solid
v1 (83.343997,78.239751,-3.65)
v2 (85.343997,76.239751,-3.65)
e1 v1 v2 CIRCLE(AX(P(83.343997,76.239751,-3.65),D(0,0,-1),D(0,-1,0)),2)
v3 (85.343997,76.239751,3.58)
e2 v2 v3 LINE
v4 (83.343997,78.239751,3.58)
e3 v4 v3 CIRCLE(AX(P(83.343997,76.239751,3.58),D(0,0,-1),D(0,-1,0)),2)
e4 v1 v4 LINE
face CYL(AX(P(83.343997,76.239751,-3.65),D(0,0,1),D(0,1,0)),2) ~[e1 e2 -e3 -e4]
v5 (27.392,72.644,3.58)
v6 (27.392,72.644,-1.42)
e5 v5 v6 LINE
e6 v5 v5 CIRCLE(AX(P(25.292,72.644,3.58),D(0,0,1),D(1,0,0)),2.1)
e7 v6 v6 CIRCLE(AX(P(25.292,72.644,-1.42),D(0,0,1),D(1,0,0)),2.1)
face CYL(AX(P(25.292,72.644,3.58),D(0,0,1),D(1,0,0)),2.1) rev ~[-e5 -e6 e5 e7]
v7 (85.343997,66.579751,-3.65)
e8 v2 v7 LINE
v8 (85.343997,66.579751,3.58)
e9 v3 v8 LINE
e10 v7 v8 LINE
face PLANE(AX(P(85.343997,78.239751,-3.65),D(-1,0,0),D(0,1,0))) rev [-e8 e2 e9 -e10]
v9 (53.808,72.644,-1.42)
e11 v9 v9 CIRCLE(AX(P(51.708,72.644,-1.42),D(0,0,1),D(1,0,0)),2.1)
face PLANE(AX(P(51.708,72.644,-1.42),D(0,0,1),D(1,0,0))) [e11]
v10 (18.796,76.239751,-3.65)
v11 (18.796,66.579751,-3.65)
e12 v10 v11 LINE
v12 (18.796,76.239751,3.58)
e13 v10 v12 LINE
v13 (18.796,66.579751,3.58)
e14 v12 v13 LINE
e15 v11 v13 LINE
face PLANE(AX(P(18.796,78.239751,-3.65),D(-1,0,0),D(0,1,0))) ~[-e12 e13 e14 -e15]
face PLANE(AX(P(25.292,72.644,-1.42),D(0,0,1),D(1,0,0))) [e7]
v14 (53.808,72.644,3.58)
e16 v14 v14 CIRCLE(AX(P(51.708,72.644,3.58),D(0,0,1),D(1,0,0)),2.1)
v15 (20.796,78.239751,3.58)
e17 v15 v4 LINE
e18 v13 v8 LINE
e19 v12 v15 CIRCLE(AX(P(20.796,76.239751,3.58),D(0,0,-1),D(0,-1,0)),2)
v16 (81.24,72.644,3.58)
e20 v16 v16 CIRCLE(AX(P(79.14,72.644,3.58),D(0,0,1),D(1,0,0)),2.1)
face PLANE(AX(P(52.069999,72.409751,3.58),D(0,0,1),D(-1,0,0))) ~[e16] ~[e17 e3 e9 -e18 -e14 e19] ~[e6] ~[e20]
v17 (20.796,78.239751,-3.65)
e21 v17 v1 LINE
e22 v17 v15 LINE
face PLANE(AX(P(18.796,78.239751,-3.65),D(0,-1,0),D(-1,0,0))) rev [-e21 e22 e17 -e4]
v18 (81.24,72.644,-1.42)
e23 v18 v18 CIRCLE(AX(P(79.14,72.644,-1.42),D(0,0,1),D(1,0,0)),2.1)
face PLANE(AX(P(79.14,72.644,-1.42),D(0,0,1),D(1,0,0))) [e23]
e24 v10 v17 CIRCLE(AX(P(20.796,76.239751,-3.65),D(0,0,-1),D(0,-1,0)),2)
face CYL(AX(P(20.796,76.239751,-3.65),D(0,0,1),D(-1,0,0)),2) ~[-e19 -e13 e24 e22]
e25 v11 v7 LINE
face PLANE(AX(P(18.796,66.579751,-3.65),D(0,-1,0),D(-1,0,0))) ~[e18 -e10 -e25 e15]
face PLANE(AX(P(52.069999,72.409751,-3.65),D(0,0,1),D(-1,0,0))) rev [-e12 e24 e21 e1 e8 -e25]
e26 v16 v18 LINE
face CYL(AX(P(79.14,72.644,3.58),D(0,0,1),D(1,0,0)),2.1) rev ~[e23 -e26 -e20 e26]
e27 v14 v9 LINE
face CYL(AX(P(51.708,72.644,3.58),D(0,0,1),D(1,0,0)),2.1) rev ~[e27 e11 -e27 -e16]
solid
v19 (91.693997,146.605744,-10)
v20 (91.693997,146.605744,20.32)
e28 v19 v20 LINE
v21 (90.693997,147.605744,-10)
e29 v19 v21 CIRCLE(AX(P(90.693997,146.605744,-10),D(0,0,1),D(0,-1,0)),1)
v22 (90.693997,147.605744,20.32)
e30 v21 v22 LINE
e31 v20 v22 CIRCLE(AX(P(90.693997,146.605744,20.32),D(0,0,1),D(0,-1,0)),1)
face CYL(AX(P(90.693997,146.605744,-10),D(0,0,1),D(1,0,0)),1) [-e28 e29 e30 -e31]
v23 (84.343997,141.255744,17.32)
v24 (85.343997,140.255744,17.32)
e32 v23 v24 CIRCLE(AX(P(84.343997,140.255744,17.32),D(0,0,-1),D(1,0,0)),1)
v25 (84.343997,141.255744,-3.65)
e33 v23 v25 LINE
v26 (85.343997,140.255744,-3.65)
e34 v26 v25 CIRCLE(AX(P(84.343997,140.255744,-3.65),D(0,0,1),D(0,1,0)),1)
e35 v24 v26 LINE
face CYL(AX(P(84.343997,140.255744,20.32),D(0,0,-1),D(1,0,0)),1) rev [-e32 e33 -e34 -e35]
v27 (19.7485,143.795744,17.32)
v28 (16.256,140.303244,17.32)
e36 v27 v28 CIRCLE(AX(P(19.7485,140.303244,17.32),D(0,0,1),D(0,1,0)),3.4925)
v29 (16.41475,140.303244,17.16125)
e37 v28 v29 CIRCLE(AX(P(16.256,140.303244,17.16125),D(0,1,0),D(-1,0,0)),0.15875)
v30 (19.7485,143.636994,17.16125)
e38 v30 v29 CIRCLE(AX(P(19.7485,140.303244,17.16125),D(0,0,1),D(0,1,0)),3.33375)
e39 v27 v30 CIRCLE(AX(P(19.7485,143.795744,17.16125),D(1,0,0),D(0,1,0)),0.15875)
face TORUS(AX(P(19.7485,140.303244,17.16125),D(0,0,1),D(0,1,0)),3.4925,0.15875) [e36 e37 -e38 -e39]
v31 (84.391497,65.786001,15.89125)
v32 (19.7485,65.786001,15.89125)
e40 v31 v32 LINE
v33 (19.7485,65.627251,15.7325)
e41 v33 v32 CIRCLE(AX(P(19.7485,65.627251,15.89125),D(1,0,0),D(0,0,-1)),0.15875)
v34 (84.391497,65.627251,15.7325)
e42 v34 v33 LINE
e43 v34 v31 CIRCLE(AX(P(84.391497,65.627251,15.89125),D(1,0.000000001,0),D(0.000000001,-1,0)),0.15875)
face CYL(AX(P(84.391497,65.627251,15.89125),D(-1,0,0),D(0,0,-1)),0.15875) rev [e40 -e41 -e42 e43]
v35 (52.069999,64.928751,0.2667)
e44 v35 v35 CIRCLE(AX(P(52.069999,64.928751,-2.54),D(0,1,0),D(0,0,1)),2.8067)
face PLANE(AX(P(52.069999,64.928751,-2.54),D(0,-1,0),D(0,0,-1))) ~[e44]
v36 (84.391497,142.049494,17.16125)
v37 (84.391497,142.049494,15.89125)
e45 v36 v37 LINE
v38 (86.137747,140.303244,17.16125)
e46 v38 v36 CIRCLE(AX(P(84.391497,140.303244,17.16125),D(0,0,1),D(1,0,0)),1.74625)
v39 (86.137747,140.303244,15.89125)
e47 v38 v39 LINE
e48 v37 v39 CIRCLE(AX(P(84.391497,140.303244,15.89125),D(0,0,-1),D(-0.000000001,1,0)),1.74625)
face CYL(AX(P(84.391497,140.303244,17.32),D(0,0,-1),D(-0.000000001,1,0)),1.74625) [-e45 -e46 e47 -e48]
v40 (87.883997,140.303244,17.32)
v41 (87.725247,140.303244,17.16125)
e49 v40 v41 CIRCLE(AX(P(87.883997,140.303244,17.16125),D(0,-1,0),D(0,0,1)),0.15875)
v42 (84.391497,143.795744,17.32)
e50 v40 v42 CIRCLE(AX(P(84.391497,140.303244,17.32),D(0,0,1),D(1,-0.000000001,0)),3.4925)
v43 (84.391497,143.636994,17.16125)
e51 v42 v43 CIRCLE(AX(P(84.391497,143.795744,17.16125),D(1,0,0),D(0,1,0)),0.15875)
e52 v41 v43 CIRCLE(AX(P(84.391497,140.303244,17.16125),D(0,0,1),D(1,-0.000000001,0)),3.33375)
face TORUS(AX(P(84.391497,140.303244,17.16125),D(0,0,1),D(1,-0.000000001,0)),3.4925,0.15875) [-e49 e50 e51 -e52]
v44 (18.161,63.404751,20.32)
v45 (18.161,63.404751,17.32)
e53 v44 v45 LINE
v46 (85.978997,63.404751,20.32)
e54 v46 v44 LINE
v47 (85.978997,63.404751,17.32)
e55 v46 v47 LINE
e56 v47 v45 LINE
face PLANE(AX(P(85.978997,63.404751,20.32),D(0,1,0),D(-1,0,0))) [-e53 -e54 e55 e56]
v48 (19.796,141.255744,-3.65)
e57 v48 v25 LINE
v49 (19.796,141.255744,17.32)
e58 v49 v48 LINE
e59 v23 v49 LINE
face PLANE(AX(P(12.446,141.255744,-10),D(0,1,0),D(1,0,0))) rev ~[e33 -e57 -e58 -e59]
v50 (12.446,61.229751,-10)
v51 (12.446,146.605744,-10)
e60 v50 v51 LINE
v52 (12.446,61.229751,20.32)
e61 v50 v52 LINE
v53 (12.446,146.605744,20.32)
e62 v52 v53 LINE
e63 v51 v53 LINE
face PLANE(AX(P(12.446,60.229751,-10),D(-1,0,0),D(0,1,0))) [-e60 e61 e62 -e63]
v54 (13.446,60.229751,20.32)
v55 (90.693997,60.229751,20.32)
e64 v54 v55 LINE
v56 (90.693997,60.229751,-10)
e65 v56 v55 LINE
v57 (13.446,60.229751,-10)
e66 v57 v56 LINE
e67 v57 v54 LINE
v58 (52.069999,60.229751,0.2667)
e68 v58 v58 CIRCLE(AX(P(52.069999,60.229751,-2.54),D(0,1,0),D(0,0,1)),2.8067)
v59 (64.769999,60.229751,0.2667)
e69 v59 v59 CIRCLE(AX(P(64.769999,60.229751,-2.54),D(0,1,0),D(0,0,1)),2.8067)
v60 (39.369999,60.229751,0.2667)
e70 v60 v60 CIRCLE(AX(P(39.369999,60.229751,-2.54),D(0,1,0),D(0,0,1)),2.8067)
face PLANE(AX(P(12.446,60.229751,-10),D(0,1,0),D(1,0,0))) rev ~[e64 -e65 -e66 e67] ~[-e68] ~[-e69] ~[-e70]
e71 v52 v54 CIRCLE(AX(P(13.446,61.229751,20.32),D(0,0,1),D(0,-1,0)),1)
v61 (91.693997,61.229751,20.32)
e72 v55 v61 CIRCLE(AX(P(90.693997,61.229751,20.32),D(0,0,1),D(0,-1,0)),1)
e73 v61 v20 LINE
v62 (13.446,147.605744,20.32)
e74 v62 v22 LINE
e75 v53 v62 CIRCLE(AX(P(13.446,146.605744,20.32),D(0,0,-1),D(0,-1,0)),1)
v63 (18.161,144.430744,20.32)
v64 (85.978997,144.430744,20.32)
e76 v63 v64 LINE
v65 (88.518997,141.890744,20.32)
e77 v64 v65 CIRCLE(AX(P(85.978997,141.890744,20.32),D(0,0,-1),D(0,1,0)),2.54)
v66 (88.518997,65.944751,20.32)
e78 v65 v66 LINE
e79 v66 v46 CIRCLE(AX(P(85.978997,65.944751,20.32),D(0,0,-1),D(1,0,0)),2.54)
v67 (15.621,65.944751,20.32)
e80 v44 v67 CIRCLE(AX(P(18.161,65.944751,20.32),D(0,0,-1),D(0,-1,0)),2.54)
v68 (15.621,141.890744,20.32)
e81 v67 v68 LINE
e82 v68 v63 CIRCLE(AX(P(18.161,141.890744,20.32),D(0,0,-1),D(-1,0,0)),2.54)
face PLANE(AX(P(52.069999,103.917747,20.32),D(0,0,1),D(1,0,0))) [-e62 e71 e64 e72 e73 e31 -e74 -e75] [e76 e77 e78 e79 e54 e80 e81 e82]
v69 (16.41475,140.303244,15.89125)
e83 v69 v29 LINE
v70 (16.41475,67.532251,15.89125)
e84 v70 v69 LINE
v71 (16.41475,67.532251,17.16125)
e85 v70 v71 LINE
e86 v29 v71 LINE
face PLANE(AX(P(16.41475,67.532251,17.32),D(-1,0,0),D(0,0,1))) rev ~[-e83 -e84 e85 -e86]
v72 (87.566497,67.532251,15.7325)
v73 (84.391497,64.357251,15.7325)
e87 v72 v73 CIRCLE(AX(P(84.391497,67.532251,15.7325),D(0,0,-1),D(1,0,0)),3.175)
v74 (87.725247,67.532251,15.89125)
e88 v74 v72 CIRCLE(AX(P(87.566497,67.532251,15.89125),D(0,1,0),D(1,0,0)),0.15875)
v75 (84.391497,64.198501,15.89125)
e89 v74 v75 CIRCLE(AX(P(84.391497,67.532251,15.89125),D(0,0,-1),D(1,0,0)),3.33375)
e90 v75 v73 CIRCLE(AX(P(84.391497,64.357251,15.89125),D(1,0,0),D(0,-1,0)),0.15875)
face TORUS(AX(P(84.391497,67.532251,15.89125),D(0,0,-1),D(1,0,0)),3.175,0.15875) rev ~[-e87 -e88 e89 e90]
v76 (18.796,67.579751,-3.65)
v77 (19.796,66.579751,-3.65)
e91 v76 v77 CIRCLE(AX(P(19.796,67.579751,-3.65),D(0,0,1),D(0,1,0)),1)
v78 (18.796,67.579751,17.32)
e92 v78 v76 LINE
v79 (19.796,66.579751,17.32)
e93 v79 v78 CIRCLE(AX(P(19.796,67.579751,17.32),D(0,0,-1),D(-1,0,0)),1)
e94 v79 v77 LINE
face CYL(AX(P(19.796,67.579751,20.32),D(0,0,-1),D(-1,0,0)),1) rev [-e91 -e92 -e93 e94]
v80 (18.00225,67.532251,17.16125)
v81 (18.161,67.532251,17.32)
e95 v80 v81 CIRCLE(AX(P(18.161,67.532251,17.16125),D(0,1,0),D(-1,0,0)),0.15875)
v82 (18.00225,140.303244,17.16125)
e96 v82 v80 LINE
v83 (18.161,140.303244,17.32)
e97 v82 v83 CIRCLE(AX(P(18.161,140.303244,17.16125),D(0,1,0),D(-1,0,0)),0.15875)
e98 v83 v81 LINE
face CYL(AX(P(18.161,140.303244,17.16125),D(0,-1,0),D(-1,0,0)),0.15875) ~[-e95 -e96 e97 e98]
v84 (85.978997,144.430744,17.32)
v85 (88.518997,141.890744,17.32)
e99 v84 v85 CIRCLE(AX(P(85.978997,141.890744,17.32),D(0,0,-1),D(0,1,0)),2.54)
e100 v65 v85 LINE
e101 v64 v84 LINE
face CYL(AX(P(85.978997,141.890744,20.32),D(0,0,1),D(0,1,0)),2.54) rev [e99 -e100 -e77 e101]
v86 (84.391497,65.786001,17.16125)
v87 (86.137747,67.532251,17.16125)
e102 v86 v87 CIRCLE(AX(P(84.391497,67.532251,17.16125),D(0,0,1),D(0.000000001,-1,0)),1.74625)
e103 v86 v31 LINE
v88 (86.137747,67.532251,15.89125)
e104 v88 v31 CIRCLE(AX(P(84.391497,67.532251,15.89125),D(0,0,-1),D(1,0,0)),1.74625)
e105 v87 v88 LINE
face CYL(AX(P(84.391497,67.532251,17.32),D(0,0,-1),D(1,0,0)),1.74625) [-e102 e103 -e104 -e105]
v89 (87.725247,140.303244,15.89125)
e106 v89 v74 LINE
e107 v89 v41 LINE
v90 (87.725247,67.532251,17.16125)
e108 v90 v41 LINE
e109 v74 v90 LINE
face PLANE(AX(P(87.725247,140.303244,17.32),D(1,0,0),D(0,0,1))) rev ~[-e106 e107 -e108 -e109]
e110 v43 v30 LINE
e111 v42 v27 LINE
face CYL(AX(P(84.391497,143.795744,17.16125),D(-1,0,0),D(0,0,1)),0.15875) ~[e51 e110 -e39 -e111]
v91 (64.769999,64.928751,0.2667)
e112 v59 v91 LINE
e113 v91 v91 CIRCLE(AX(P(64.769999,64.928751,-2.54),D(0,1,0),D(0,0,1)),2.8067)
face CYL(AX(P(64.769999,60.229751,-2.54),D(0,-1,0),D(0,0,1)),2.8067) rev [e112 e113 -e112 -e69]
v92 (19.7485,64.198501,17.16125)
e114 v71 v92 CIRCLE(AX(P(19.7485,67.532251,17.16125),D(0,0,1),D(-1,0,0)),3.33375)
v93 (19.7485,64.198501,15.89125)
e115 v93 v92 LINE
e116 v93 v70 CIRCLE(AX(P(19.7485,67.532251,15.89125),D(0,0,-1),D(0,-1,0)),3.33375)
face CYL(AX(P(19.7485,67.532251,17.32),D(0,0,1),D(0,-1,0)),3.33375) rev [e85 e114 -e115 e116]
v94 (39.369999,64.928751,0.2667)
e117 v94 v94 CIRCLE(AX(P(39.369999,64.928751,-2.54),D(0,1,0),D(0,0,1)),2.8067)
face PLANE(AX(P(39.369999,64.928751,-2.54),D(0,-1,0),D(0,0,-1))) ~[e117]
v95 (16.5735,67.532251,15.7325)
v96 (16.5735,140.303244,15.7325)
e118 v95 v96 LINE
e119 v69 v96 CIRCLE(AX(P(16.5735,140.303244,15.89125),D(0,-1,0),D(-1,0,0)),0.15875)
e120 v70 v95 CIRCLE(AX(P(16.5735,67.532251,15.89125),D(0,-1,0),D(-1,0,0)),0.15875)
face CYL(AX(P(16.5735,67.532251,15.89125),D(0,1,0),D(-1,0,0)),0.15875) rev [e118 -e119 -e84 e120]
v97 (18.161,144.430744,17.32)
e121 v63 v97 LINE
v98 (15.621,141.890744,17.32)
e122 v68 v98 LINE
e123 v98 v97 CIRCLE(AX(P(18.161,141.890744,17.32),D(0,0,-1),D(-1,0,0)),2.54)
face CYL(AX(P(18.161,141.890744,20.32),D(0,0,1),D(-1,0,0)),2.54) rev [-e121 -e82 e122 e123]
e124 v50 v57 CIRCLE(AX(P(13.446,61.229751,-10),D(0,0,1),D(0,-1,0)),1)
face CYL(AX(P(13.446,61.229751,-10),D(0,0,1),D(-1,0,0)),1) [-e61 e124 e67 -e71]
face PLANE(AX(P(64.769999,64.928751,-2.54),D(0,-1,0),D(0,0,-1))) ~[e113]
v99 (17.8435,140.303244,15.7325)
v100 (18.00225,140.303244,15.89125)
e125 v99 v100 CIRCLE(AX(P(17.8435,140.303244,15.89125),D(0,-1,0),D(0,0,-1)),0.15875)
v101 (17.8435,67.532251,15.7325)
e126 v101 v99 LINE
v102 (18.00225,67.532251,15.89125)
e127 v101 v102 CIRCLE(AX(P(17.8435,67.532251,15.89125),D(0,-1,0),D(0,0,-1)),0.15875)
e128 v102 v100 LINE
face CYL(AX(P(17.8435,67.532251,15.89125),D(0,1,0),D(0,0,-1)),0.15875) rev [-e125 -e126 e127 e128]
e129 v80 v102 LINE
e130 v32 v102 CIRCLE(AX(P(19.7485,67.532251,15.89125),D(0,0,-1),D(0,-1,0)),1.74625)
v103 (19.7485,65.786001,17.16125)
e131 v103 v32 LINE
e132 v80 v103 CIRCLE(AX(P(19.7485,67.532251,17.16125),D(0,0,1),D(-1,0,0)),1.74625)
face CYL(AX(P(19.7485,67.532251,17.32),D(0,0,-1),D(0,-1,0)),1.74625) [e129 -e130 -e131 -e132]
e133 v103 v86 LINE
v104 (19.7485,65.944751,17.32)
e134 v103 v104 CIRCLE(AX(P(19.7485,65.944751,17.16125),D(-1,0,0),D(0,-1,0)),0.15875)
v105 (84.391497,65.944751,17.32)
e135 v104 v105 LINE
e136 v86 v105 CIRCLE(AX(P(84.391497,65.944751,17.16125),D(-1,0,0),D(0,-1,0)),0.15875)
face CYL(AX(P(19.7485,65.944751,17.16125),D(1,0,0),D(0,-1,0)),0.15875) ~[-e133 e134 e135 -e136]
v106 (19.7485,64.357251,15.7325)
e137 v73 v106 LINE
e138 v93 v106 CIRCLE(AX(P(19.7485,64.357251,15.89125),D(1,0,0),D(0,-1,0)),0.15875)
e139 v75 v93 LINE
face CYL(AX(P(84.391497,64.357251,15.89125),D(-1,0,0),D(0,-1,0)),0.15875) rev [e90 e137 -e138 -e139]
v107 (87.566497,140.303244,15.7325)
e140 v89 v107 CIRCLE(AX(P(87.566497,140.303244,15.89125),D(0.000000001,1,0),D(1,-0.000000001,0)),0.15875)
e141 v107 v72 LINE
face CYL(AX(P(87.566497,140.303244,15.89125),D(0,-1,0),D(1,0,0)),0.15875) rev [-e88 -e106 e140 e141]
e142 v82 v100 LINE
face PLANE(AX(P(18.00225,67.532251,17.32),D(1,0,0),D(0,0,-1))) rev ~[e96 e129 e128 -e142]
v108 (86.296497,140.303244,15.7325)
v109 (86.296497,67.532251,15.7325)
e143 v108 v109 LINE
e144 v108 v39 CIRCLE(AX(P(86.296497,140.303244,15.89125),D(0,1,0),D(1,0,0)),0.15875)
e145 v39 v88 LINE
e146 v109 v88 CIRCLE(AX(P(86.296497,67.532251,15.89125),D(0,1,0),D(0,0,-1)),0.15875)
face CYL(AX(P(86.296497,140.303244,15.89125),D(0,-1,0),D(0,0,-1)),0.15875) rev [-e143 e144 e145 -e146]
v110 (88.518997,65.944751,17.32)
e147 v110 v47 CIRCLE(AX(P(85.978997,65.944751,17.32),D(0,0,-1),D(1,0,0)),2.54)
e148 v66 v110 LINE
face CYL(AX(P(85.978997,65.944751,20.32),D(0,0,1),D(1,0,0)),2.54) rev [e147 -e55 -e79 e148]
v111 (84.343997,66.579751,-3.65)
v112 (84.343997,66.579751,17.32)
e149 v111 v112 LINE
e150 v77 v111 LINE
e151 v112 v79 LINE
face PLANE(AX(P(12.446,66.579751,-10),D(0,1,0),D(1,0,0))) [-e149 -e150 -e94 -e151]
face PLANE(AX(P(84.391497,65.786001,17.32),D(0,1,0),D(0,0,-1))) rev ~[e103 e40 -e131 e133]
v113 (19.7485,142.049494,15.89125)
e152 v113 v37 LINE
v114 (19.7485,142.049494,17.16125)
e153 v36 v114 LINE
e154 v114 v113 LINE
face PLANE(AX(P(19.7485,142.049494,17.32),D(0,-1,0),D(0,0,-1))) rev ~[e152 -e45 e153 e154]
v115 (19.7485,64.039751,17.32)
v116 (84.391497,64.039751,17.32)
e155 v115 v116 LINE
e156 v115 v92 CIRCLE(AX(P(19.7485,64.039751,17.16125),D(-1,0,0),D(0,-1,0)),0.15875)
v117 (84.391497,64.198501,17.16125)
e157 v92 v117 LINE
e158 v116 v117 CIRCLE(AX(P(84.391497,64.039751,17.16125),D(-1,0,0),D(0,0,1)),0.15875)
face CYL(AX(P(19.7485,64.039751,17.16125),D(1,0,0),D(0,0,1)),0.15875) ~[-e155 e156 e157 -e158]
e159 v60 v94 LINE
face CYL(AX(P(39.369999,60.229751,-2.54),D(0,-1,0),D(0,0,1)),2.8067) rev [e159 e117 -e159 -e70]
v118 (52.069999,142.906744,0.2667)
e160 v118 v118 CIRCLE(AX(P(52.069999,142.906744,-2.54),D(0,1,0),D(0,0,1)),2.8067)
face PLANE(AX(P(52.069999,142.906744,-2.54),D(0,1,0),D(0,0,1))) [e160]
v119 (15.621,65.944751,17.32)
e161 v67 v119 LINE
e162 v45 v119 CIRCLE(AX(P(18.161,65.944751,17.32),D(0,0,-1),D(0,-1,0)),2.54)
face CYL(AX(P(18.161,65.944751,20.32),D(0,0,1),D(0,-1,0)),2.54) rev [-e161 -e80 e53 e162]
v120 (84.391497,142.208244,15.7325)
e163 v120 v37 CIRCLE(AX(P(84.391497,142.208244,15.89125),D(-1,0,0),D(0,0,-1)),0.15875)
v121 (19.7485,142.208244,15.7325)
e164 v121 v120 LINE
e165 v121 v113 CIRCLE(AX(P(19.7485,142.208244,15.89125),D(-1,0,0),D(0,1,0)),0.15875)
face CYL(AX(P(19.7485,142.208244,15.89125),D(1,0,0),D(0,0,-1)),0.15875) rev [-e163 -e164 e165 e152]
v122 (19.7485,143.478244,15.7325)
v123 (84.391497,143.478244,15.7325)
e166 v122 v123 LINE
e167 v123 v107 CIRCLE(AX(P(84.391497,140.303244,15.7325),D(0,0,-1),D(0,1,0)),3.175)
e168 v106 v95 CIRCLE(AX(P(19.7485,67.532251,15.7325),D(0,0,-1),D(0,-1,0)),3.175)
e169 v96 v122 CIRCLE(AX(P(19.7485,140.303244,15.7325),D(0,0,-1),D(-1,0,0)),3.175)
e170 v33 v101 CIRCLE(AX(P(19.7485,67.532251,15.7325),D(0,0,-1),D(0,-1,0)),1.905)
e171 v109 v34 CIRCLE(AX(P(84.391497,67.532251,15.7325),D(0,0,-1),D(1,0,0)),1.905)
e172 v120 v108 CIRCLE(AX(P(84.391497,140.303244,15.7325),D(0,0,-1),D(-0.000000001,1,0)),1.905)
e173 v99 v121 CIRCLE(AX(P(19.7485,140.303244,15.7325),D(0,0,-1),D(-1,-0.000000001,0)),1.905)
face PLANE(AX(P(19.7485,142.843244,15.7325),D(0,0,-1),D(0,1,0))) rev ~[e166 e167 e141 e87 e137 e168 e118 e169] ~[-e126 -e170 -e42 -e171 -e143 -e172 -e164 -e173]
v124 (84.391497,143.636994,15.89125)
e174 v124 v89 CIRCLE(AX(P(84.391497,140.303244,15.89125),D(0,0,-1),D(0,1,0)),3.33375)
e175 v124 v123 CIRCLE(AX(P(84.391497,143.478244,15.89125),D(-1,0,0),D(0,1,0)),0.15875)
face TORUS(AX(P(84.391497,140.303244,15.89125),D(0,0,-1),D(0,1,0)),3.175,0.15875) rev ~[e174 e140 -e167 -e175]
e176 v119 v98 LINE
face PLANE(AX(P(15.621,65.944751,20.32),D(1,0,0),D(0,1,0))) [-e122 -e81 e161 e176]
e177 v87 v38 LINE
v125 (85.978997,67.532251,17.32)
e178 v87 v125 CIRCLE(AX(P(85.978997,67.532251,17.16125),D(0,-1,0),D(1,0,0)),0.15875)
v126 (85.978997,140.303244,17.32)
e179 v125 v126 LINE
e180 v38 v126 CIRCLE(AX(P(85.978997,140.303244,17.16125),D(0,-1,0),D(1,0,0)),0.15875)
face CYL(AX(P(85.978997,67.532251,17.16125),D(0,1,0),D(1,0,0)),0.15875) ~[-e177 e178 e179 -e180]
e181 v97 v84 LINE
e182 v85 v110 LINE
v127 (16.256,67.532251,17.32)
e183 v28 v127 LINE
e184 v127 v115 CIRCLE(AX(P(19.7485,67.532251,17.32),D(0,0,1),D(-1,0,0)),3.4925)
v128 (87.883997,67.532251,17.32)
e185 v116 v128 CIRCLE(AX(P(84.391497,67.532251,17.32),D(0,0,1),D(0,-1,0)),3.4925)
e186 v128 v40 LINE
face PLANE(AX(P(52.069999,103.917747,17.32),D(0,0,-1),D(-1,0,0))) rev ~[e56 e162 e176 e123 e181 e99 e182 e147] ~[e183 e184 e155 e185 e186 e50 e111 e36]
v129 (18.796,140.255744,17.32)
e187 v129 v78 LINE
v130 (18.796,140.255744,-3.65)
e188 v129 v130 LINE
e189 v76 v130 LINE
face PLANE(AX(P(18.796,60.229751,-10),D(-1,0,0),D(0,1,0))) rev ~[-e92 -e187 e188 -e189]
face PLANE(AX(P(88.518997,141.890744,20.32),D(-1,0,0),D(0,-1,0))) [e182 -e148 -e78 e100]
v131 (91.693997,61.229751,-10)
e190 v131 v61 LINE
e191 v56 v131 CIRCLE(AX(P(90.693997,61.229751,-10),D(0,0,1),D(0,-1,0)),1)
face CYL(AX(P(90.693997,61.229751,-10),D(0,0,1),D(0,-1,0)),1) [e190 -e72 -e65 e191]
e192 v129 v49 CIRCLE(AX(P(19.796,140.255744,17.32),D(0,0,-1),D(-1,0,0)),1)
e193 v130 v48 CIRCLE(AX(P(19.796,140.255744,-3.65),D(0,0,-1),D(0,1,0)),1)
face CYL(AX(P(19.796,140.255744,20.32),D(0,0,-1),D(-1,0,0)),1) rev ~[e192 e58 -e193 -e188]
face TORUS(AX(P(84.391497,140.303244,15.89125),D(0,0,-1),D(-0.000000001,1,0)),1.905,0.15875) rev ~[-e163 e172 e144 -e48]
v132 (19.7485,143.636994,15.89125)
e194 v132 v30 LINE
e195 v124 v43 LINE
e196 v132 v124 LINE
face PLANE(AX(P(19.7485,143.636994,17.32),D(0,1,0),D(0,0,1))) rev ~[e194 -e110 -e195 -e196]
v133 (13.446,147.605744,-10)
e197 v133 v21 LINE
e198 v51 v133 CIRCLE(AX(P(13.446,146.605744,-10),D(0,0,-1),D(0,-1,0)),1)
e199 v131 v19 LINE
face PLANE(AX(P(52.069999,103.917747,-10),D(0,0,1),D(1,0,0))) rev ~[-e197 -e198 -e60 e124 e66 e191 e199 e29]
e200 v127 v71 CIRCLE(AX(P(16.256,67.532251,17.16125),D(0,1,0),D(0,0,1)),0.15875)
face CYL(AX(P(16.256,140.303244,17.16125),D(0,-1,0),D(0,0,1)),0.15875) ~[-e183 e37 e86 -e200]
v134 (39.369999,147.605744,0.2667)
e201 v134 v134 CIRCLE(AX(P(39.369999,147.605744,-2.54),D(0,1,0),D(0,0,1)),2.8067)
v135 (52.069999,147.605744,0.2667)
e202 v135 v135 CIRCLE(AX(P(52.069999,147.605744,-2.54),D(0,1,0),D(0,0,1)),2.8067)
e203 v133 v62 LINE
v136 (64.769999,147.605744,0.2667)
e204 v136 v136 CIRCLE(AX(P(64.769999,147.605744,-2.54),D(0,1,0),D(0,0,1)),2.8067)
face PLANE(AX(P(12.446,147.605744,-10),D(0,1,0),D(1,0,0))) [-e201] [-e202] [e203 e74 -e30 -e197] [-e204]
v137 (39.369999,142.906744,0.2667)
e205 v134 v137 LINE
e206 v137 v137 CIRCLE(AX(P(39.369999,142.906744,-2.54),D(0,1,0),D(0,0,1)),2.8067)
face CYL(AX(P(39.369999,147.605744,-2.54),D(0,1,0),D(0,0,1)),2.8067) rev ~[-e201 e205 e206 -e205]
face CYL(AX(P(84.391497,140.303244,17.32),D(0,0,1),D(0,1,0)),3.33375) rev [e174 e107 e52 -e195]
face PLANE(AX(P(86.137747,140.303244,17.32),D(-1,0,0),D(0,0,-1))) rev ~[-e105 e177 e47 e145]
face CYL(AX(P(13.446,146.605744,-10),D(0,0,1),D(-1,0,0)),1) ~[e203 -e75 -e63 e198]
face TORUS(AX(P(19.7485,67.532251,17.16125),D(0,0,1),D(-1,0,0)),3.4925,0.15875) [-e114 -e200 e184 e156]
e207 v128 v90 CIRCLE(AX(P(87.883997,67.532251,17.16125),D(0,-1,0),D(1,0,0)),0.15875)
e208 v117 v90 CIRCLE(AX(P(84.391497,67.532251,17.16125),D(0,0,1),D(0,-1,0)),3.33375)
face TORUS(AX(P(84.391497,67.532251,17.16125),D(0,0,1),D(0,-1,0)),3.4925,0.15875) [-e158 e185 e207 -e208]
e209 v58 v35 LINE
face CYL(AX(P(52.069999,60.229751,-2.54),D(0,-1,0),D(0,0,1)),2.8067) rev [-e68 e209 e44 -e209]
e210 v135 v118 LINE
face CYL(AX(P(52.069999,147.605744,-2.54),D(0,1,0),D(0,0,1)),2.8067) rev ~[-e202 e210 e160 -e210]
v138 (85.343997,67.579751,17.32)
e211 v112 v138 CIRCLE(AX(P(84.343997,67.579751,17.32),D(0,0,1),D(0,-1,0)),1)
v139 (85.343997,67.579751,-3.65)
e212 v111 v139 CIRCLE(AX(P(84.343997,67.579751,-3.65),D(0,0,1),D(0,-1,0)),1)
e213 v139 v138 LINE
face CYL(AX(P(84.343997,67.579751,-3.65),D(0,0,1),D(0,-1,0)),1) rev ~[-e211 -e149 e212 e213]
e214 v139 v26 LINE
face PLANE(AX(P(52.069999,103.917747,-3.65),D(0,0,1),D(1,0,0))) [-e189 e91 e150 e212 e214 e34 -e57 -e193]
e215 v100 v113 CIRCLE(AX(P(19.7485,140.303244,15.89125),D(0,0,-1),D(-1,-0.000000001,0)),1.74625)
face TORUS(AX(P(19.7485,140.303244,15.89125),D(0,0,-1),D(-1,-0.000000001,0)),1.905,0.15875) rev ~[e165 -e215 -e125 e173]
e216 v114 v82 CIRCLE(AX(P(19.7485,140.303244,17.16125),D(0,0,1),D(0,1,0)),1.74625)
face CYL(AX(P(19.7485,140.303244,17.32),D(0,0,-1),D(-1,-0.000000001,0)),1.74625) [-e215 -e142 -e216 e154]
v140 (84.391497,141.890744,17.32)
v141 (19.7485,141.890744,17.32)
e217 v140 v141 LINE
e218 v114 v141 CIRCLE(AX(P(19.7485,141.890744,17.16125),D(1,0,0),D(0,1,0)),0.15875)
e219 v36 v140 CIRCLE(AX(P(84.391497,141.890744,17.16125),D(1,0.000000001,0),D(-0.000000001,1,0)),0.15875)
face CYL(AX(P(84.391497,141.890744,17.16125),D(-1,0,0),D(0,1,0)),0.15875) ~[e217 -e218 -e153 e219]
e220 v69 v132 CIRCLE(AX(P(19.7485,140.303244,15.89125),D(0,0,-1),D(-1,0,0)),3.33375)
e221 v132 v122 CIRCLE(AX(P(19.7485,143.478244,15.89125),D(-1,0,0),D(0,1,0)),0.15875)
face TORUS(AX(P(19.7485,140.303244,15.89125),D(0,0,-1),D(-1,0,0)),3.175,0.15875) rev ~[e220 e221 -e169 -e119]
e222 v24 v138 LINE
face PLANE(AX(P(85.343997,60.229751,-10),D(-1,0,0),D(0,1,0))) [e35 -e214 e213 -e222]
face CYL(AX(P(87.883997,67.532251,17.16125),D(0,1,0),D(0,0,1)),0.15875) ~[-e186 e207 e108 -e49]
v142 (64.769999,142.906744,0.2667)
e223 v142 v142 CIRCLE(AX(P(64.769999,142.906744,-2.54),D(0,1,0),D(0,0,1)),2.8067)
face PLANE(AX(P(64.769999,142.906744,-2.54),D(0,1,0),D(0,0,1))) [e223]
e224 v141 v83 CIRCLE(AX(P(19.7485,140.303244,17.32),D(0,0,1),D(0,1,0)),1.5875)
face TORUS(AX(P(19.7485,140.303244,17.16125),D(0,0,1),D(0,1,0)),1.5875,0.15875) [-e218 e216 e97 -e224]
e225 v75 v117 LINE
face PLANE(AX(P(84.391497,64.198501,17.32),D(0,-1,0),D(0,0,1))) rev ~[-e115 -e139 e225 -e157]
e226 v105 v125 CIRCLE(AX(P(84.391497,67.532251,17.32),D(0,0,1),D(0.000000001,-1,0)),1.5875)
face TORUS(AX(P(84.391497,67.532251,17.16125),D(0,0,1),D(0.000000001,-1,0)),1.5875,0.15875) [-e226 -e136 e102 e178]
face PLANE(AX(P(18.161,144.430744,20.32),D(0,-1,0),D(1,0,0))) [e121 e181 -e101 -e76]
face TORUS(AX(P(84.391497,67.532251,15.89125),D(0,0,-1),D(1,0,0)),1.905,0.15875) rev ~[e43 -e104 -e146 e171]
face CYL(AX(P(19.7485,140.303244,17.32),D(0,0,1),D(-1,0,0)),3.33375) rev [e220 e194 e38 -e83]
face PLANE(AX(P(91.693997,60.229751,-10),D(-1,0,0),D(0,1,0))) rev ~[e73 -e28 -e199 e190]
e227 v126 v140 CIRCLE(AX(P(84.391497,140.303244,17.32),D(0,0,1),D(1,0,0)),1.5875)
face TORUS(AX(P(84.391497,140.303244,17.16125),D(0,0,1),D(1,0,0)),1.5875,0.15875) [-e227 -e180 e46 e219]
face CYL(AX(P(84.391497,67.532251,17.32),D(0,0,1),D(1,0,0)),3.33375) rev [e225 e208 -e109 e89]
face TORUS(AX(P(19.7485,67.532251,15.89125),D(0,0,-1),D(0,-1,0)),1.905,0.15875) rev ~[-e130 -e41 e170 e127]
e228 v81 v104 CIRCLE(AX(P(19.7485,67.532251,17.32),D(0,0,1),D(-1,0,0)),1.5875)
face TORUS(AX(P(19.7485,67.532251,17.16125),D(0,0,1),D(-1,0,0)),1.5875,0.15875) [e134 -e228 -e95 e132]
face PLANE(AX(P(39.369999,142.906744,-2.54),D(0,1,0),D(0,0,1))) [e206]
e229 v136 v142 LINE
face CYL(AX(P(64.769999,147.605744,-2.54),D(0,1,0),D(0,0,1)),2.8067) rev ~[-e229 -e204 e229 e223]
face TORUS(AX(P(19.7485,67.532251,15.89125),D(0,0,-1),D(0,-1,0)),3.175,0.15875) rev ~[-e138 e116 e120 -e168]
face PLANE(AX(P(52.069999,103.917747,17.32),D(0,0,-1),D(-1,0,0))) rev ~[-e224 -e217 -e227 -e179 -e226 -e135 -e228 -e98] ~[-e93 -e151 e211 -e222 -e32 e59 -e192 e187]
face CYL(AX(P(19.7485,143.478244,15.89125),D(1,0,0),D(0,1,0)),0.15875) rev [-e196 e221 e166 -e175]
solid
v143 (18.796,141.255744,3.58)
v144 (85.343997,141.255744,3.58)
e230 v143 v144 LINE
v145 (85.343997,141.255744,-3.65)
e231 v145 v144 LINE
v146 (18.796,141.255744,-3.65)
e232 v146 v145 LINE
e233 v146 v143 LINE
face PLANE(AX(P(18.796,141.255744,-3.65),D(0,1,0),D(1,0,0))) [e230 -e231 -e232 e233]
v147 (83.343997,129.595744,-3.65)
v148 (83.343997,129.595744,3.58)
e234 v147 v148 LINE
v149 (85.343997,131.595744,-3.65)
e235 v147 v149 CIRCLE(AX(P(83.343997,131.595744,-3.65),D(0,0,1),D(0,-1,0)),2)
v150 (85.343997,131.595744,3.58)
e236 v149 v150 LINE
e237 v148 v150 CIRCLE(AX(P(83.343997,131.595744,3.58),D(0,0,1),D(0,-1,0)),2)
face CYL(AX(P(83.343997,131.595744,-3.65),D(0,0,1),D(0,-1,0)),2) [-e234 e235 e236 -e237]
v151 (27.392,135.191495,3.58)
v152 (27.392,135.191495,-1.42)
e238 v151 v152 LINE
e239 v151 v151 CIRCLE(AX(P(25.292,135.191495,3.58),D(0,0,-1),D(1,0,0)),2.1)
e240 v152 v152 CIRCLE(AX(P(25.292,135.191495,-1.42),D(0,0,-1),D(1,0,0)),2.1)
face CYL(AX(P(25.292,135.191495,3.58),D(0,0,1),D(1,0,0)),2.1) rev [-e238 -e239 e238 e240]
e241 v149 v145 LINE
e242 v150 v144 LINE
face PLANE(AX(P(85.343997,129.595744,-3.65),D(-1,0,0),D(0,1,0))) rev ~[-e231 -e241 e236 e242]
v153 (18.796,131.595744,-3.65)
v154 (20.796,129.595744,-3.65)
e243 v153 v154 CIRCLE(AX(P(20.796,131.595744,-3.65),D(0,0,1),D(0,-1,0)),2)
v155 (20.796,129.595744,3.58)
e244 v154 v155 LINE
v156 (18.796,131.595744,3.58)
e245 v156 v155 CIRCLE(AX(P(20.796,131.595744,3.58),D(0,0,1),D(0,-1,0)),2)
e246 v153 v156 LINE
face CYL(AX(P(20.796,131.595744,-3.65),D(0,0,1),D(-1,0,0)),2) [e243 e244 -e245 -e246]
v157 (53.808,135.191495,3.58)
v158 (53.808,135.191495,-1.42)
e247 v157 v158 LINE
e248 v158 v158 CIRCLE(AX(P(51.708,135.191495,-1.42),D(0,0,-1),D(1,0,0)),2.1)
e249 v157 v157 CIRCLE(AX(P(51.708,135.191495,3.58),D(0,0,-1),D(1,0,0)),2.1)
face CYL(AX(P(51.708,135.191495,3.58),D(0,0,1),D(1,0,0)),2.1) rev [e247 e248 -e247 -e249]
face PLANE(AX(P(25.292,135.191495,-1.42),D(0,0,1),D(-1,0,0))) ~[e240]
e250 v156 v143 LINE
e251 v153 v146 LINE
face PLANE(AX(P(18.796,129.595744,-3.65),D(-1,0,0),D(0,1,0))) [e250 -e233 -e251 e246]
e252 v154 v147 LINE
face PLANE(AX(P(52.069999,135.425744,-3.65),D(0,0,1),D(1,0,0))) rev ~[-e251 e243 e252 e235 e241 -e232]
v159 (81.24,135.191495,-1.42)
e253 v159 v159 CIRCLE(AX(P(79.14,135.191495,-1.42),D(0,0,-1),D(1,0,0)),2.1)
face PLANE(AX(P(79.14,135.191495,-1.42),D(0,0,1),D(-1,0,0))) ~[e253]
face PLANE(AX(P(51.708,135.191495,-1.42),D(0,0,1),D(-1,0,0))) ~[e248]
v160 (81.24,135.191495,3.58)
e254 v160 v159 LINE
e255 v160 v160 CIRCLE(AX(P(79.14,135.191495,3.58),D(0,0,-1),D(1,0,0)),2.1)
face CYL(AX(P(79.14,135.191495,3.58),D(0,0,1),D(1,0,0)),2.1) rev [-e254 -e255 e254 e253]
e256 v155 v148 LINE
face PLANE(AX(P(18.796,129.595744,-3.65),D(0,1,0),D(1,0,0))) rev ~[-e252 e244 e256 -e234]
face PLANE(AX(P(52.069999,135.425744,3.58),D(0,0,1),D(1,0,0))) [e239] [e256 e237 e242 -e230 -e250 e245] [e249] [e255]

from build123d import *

# Parameters (mm, degrees)
BOSS_EXTRUDE2_DEPTH      = 20.32
BOSS_EXTRUDE2_DEPTH_BACK = 10
SKETCH1_W                = 79.247997513
SKETCH1_H                = 87.375993957
SHELL2_T                 = -6.35
SKETCH2_W                = 66.547997513
SKETCH2_H                = 11.66
BOSS_EXTRUDE3_DEPTH      = 7.23
FILLET1_R                = 1
FILLET2_R                = 2
FILLET3_R                = 2
SKETCH3_R                = 2.1
CUT_EXTRUDE2_DEPTH       = 5
CUT_EXTRUDE3_DEPTH       = 3
SKETCH5_W                = 1.5875
SKETCH5_H                = 3.175
SKETCH7_R                = 2.8067
CUT_EXTRUDE4_DEPTH       = 4.699
FILLET4_R                = 0.15875
FILLET5_R                = 0.15875


with BuildPart() as part:
    # Sketch1 → Boss-Extrude2 (new, two sides: drawn at the far end of the back side and taken through both)
    with BuildSketch(Plane.XY.offset(-BOSS_EXTRUDE2_DEPTH_BACK)):
        with Locations((52.069998742, 103.917747498)):
            Rectangle(SKETCH1_W, SKETCH1_H)
    extrude(amount=BOSS_EXTRUDE2_DEPTH + BOSS_EXTRUDE2_DEPTH_BACK)

    # Shell2
    shell2_openings = [part.faces().sort_by_distance(p)[0] for p in [
        (52.069998741, 103.917747498, 20.32),
    ]]
    offset(amount=SHELL2_T, openings=shell2_openings, kind=Kind.INTERSECTION)

    # Fillet1
    fillet1_edges = [part.edges().sort_by_distance(p)[0] for p in [
        (18.795999985, 66.579750519, 8.335),
        (18.795999985, 141.255744476, 8.335),
        (85.343997498, 141.255744476, 8.335),
        (85.343997498, 66.579750519, 8.335),
        (12.445999985, 147.605744476, 5.16),
        (91.693997498, 147.605744476, 5.16),
        (91.693997498, 60.229750519, 5.16),
        (12.445999985, 60.229750519, 5.16),
    ]]
    fillet(fillet1_edges, radius=FILLET1_R)

    # Sketch4 → Cut-Extrude3 (cut)
    with BuildSketch(Plane.XY.offset(20.32)):
        with BuildLine():
            Line((18.160999985, 144.430744476), (85.978997498, 144.430744476))
            ThreePointArc((85.978997498, 144.430744476), (87.775048722, 143.686795701), (88.518997498, 141.890744476))
            Line((88.518997498, 141.890744476), (88.518997498, 65.944750519))
            ThreePointArc((88.518997498, 65.944750519), (87.775048722, 64.148699295), (85.978997498, 63.404750519))
            Line((85.978997498, 63.404750519), (18.160999985, 63.404750519))
            ThreePointArc((18.160999985, 63.404750519), (16.364948761, 64.148699295), (15.620999985, 65.944750519))
            Line((15.620999985, 65.944750519), (15.620999985, 141.890744476))
            ThreePointArc((15.620999985, 141.890744476), (16.364948761, 143.686795701), (18.160999985, 144.430744476))
        make_face()
    extrude(amount=-CUT_EXTRUDE3_DEPTH, mode=Mode.SUBTRACT)

    # Cut-Sweep1: sweep along a path in Sketch6
    with BuildLine(Plane.XY.offset(17.32)) as cut_sweep1_path:
        Line((19.748499985, 142.843244476), (84.391497498, 142.843244476))
        ThreePointArc((84.391497498, 142.843244476), (86.187548722, 142.099295701), (86.931497498, 140.303244476))
        Line((86.931497498, 140.303244476), (86.931497498, 67.532250519))
        ThreePointArc((86.931497498, 67.532250519), (86.187548722, 65.736199295), (84.391497498, 64.992250519))
        Line((84.391497498, 64.992250519), (19.748499985, 64.992250519))
        ThreePointArc((19.748499985, 64.992250519), (17.952448761, 65.736199295), (17.208499985, 67.532250519))
        Line((17.208499985, 67.532250519), (17.208499985, 140.303244476))
        ThreePointArc((17.208499985, 140.303244476), (17.952448761, 142.099295701), (19.748499985, 142.843244476))
    # Sketch5 → Cut-Sweep1 (sweep, cut)
    with BuildSketch(Plane(origin=(0, 103.917747498, 0), x_dir=(1, 0, 0), z_dir=(0, 1, 0))):
        with Locations((17.208499985, -17.32)):
            Rectangle(SKETCH5_W, SKETCH5_H)
    sweep(path=cut_sweep1_path.line, mode=Mode.SUBTRACT)

    # Sketch7 → Cut-Extrude4 (cut)
    with BuildSketch(Plane(origin=(0, 147.605744476, 0), x_dir=(1, 0, 0), z_dir=(0, 1, 0))):
        with Locations(Location((52.069998741, 2.54, 0), (0, 0, 270))):
            Circle(SKETCH7_R)
        with Locations(Location((64.769998741, 2.54, 0), (0, 0, 270))):
            Circle(SKETCH7_R)
        with Locations(Location((39.369998741, 2.54, 0), (0, 0, 270))):
            Circle(SKETCH7_R)
    cut_extrude4 = extrude(amount=-CUT_EXTRUDE4_DEPTH, mode=Mode.SUBTRACT)

    # Mirror13: Cut-Extrude4 across plane
    add(cut_extrude4.mirror(Plane.ZX.offset(103.917747498)), mode=Mode.SUBTRACT)

    # Fillet4
    fillet4_edges = [part.edges().sort_by_distance(p)[0] for p in [
        (18.002249985, 103.917747498, 17.32),
        (18.513714768, 141.538029693, 17.32),
        (52.069998741, 142.049494476, 17.32),
        (85.626282714, 141.538029693, 17.32),
        (86.137747498, 103.917747498, 17.32),
        (85.626282714, 66.297465302, 17.32),
        (52.069998741, 65.786000519, 17.32),
        (18.513714768, 66.297465302, 17.32),
        (18.002249985, 103.917747498, 17.32),
        (17.391182753, 142.660561708, 17.32),
        (52.069998741, 143.636994476, 17.32),
        (86.748814729, 142.660561708, 17.32),
        (87.725247498, 103.917747498, 17.32),
        (86.748814729, 65.174933287, 17.32),
        (52.069998741, 64.198500519, 17.32),
        (17.391182753, 65.174933287, 17.32),
        (16.414749985, 103.917747498, 17.32),
        (16.414749985, 103.917747498, 17.32),
    ]]
    fillet(fillet4_edges, radius=FILLET4_R)

    # Fillet5
    fillet5_edges = [part.edges().sort_by_distance(p)[0] for p in [
        (16.414749985, 103.917747498, 15.7325),
        (16.414749985, 103.917747498, 15.7325),
        (17.391182753, 65.174933287, 15.7325),
        (52.069998741, 64.198500519, 15.7325),
        (86.748814729, 65.174933287, 15.7325),
        (87.725247498, 103.917747498, 15.7325),
        (86.748814729, 142.660561708, 15.7325),
        (52.069998741, 143.636994476, 15.7325),
        (17.391182753, 142.660561708, 15.7325),
        (18.002249985, 103.917747498, 15.7325),
        (18.513714768, 66.297465302, 15.7325),
        (52.069998741, 65.786000519, 15.7325),
        (85.626282714, 66.297465302, 15.7325),
        (86.137747498, 103.917747498, 15.7325),
        (85.626282714, 141.538029693, 15.7325),
        (52.069998741, 142.049494476, 15.7325),
        (18.513714768, 141.538029693, 15.7325),
        (18.002249985, 103.917747498, 15.7325),
    ]]
    fillet(fillet5_edges, radius=FILLET5_R)


with BuildPart() as body_2:
    # Sketch2 → Boss-Extrude3 (new body)
    with BuildSketch(Plane.XY.offset(-3.65)):
        with Locations((52.069998742, 135.425744476)):
            Rectangle(SKETCH2_W, SKETCH2_H)
    extrude(amount=BOSS_EXTRUDE3_DEPTH)


with BuildPart() as body_3:
    # Mirror4: mirrored copy
    add(body_2.part.mirror(Plane(origin=(0, 103.917747498, 0), x_dir=(0, 0, 1), z_dir=(0, -1, 0))))

    # Fillet2
    fillet2_edges = [body_3.edges().sort_by_distance(p)[0] for p in [
        (85.343997498, 78.239750519, -0.035),
        (18.795999985, 78.239750519, -0.035),
    ]]
    fillet(fillet2_edges, radius=FILLET2_R)

    # Sketch3 → Cut-Extrude2 (cut)
    with BuildSketch(Plane.XY.offset(3.58)):
        with Locations((25.292, 72.644)):
            Circle(SKETCH3_R)
        with Locations((51.708, 72.644)):
            Circle(SKETCH3_R)
        with Locations((79.14, 72.644)):
            Circle(SKETCH3_R)
    cut_extrude2 = extrude(amount=-CUT_EXTRUDE2_DEPTH, mode=Mode.SUBTRACT)


with BuildPart() as body_2_1:
    add(body_2.part)

    # Fillet3
    fillet3_edges = [body_2_1.edges().sort_by_distance(p)[0] for p in [
        (85.343997498, 129.595744476, -0.035),
        (18.795999985, 129.595744476, -0.035),
    ]]
    fillet(fillet3_edges, radius=FILLET3_R)

    # Mirror12: Cut-Extrude2 across plane
    add(cut_extrude2.mirror(Plane(origin=(0, 103.917747498, 0), x_dir=(0, 0, 1), z_dir=(0, -1, 0))), mode=Mode.SUBTRACT)


solid = Compound([part.part, body_3.part, body_2_1.part])
